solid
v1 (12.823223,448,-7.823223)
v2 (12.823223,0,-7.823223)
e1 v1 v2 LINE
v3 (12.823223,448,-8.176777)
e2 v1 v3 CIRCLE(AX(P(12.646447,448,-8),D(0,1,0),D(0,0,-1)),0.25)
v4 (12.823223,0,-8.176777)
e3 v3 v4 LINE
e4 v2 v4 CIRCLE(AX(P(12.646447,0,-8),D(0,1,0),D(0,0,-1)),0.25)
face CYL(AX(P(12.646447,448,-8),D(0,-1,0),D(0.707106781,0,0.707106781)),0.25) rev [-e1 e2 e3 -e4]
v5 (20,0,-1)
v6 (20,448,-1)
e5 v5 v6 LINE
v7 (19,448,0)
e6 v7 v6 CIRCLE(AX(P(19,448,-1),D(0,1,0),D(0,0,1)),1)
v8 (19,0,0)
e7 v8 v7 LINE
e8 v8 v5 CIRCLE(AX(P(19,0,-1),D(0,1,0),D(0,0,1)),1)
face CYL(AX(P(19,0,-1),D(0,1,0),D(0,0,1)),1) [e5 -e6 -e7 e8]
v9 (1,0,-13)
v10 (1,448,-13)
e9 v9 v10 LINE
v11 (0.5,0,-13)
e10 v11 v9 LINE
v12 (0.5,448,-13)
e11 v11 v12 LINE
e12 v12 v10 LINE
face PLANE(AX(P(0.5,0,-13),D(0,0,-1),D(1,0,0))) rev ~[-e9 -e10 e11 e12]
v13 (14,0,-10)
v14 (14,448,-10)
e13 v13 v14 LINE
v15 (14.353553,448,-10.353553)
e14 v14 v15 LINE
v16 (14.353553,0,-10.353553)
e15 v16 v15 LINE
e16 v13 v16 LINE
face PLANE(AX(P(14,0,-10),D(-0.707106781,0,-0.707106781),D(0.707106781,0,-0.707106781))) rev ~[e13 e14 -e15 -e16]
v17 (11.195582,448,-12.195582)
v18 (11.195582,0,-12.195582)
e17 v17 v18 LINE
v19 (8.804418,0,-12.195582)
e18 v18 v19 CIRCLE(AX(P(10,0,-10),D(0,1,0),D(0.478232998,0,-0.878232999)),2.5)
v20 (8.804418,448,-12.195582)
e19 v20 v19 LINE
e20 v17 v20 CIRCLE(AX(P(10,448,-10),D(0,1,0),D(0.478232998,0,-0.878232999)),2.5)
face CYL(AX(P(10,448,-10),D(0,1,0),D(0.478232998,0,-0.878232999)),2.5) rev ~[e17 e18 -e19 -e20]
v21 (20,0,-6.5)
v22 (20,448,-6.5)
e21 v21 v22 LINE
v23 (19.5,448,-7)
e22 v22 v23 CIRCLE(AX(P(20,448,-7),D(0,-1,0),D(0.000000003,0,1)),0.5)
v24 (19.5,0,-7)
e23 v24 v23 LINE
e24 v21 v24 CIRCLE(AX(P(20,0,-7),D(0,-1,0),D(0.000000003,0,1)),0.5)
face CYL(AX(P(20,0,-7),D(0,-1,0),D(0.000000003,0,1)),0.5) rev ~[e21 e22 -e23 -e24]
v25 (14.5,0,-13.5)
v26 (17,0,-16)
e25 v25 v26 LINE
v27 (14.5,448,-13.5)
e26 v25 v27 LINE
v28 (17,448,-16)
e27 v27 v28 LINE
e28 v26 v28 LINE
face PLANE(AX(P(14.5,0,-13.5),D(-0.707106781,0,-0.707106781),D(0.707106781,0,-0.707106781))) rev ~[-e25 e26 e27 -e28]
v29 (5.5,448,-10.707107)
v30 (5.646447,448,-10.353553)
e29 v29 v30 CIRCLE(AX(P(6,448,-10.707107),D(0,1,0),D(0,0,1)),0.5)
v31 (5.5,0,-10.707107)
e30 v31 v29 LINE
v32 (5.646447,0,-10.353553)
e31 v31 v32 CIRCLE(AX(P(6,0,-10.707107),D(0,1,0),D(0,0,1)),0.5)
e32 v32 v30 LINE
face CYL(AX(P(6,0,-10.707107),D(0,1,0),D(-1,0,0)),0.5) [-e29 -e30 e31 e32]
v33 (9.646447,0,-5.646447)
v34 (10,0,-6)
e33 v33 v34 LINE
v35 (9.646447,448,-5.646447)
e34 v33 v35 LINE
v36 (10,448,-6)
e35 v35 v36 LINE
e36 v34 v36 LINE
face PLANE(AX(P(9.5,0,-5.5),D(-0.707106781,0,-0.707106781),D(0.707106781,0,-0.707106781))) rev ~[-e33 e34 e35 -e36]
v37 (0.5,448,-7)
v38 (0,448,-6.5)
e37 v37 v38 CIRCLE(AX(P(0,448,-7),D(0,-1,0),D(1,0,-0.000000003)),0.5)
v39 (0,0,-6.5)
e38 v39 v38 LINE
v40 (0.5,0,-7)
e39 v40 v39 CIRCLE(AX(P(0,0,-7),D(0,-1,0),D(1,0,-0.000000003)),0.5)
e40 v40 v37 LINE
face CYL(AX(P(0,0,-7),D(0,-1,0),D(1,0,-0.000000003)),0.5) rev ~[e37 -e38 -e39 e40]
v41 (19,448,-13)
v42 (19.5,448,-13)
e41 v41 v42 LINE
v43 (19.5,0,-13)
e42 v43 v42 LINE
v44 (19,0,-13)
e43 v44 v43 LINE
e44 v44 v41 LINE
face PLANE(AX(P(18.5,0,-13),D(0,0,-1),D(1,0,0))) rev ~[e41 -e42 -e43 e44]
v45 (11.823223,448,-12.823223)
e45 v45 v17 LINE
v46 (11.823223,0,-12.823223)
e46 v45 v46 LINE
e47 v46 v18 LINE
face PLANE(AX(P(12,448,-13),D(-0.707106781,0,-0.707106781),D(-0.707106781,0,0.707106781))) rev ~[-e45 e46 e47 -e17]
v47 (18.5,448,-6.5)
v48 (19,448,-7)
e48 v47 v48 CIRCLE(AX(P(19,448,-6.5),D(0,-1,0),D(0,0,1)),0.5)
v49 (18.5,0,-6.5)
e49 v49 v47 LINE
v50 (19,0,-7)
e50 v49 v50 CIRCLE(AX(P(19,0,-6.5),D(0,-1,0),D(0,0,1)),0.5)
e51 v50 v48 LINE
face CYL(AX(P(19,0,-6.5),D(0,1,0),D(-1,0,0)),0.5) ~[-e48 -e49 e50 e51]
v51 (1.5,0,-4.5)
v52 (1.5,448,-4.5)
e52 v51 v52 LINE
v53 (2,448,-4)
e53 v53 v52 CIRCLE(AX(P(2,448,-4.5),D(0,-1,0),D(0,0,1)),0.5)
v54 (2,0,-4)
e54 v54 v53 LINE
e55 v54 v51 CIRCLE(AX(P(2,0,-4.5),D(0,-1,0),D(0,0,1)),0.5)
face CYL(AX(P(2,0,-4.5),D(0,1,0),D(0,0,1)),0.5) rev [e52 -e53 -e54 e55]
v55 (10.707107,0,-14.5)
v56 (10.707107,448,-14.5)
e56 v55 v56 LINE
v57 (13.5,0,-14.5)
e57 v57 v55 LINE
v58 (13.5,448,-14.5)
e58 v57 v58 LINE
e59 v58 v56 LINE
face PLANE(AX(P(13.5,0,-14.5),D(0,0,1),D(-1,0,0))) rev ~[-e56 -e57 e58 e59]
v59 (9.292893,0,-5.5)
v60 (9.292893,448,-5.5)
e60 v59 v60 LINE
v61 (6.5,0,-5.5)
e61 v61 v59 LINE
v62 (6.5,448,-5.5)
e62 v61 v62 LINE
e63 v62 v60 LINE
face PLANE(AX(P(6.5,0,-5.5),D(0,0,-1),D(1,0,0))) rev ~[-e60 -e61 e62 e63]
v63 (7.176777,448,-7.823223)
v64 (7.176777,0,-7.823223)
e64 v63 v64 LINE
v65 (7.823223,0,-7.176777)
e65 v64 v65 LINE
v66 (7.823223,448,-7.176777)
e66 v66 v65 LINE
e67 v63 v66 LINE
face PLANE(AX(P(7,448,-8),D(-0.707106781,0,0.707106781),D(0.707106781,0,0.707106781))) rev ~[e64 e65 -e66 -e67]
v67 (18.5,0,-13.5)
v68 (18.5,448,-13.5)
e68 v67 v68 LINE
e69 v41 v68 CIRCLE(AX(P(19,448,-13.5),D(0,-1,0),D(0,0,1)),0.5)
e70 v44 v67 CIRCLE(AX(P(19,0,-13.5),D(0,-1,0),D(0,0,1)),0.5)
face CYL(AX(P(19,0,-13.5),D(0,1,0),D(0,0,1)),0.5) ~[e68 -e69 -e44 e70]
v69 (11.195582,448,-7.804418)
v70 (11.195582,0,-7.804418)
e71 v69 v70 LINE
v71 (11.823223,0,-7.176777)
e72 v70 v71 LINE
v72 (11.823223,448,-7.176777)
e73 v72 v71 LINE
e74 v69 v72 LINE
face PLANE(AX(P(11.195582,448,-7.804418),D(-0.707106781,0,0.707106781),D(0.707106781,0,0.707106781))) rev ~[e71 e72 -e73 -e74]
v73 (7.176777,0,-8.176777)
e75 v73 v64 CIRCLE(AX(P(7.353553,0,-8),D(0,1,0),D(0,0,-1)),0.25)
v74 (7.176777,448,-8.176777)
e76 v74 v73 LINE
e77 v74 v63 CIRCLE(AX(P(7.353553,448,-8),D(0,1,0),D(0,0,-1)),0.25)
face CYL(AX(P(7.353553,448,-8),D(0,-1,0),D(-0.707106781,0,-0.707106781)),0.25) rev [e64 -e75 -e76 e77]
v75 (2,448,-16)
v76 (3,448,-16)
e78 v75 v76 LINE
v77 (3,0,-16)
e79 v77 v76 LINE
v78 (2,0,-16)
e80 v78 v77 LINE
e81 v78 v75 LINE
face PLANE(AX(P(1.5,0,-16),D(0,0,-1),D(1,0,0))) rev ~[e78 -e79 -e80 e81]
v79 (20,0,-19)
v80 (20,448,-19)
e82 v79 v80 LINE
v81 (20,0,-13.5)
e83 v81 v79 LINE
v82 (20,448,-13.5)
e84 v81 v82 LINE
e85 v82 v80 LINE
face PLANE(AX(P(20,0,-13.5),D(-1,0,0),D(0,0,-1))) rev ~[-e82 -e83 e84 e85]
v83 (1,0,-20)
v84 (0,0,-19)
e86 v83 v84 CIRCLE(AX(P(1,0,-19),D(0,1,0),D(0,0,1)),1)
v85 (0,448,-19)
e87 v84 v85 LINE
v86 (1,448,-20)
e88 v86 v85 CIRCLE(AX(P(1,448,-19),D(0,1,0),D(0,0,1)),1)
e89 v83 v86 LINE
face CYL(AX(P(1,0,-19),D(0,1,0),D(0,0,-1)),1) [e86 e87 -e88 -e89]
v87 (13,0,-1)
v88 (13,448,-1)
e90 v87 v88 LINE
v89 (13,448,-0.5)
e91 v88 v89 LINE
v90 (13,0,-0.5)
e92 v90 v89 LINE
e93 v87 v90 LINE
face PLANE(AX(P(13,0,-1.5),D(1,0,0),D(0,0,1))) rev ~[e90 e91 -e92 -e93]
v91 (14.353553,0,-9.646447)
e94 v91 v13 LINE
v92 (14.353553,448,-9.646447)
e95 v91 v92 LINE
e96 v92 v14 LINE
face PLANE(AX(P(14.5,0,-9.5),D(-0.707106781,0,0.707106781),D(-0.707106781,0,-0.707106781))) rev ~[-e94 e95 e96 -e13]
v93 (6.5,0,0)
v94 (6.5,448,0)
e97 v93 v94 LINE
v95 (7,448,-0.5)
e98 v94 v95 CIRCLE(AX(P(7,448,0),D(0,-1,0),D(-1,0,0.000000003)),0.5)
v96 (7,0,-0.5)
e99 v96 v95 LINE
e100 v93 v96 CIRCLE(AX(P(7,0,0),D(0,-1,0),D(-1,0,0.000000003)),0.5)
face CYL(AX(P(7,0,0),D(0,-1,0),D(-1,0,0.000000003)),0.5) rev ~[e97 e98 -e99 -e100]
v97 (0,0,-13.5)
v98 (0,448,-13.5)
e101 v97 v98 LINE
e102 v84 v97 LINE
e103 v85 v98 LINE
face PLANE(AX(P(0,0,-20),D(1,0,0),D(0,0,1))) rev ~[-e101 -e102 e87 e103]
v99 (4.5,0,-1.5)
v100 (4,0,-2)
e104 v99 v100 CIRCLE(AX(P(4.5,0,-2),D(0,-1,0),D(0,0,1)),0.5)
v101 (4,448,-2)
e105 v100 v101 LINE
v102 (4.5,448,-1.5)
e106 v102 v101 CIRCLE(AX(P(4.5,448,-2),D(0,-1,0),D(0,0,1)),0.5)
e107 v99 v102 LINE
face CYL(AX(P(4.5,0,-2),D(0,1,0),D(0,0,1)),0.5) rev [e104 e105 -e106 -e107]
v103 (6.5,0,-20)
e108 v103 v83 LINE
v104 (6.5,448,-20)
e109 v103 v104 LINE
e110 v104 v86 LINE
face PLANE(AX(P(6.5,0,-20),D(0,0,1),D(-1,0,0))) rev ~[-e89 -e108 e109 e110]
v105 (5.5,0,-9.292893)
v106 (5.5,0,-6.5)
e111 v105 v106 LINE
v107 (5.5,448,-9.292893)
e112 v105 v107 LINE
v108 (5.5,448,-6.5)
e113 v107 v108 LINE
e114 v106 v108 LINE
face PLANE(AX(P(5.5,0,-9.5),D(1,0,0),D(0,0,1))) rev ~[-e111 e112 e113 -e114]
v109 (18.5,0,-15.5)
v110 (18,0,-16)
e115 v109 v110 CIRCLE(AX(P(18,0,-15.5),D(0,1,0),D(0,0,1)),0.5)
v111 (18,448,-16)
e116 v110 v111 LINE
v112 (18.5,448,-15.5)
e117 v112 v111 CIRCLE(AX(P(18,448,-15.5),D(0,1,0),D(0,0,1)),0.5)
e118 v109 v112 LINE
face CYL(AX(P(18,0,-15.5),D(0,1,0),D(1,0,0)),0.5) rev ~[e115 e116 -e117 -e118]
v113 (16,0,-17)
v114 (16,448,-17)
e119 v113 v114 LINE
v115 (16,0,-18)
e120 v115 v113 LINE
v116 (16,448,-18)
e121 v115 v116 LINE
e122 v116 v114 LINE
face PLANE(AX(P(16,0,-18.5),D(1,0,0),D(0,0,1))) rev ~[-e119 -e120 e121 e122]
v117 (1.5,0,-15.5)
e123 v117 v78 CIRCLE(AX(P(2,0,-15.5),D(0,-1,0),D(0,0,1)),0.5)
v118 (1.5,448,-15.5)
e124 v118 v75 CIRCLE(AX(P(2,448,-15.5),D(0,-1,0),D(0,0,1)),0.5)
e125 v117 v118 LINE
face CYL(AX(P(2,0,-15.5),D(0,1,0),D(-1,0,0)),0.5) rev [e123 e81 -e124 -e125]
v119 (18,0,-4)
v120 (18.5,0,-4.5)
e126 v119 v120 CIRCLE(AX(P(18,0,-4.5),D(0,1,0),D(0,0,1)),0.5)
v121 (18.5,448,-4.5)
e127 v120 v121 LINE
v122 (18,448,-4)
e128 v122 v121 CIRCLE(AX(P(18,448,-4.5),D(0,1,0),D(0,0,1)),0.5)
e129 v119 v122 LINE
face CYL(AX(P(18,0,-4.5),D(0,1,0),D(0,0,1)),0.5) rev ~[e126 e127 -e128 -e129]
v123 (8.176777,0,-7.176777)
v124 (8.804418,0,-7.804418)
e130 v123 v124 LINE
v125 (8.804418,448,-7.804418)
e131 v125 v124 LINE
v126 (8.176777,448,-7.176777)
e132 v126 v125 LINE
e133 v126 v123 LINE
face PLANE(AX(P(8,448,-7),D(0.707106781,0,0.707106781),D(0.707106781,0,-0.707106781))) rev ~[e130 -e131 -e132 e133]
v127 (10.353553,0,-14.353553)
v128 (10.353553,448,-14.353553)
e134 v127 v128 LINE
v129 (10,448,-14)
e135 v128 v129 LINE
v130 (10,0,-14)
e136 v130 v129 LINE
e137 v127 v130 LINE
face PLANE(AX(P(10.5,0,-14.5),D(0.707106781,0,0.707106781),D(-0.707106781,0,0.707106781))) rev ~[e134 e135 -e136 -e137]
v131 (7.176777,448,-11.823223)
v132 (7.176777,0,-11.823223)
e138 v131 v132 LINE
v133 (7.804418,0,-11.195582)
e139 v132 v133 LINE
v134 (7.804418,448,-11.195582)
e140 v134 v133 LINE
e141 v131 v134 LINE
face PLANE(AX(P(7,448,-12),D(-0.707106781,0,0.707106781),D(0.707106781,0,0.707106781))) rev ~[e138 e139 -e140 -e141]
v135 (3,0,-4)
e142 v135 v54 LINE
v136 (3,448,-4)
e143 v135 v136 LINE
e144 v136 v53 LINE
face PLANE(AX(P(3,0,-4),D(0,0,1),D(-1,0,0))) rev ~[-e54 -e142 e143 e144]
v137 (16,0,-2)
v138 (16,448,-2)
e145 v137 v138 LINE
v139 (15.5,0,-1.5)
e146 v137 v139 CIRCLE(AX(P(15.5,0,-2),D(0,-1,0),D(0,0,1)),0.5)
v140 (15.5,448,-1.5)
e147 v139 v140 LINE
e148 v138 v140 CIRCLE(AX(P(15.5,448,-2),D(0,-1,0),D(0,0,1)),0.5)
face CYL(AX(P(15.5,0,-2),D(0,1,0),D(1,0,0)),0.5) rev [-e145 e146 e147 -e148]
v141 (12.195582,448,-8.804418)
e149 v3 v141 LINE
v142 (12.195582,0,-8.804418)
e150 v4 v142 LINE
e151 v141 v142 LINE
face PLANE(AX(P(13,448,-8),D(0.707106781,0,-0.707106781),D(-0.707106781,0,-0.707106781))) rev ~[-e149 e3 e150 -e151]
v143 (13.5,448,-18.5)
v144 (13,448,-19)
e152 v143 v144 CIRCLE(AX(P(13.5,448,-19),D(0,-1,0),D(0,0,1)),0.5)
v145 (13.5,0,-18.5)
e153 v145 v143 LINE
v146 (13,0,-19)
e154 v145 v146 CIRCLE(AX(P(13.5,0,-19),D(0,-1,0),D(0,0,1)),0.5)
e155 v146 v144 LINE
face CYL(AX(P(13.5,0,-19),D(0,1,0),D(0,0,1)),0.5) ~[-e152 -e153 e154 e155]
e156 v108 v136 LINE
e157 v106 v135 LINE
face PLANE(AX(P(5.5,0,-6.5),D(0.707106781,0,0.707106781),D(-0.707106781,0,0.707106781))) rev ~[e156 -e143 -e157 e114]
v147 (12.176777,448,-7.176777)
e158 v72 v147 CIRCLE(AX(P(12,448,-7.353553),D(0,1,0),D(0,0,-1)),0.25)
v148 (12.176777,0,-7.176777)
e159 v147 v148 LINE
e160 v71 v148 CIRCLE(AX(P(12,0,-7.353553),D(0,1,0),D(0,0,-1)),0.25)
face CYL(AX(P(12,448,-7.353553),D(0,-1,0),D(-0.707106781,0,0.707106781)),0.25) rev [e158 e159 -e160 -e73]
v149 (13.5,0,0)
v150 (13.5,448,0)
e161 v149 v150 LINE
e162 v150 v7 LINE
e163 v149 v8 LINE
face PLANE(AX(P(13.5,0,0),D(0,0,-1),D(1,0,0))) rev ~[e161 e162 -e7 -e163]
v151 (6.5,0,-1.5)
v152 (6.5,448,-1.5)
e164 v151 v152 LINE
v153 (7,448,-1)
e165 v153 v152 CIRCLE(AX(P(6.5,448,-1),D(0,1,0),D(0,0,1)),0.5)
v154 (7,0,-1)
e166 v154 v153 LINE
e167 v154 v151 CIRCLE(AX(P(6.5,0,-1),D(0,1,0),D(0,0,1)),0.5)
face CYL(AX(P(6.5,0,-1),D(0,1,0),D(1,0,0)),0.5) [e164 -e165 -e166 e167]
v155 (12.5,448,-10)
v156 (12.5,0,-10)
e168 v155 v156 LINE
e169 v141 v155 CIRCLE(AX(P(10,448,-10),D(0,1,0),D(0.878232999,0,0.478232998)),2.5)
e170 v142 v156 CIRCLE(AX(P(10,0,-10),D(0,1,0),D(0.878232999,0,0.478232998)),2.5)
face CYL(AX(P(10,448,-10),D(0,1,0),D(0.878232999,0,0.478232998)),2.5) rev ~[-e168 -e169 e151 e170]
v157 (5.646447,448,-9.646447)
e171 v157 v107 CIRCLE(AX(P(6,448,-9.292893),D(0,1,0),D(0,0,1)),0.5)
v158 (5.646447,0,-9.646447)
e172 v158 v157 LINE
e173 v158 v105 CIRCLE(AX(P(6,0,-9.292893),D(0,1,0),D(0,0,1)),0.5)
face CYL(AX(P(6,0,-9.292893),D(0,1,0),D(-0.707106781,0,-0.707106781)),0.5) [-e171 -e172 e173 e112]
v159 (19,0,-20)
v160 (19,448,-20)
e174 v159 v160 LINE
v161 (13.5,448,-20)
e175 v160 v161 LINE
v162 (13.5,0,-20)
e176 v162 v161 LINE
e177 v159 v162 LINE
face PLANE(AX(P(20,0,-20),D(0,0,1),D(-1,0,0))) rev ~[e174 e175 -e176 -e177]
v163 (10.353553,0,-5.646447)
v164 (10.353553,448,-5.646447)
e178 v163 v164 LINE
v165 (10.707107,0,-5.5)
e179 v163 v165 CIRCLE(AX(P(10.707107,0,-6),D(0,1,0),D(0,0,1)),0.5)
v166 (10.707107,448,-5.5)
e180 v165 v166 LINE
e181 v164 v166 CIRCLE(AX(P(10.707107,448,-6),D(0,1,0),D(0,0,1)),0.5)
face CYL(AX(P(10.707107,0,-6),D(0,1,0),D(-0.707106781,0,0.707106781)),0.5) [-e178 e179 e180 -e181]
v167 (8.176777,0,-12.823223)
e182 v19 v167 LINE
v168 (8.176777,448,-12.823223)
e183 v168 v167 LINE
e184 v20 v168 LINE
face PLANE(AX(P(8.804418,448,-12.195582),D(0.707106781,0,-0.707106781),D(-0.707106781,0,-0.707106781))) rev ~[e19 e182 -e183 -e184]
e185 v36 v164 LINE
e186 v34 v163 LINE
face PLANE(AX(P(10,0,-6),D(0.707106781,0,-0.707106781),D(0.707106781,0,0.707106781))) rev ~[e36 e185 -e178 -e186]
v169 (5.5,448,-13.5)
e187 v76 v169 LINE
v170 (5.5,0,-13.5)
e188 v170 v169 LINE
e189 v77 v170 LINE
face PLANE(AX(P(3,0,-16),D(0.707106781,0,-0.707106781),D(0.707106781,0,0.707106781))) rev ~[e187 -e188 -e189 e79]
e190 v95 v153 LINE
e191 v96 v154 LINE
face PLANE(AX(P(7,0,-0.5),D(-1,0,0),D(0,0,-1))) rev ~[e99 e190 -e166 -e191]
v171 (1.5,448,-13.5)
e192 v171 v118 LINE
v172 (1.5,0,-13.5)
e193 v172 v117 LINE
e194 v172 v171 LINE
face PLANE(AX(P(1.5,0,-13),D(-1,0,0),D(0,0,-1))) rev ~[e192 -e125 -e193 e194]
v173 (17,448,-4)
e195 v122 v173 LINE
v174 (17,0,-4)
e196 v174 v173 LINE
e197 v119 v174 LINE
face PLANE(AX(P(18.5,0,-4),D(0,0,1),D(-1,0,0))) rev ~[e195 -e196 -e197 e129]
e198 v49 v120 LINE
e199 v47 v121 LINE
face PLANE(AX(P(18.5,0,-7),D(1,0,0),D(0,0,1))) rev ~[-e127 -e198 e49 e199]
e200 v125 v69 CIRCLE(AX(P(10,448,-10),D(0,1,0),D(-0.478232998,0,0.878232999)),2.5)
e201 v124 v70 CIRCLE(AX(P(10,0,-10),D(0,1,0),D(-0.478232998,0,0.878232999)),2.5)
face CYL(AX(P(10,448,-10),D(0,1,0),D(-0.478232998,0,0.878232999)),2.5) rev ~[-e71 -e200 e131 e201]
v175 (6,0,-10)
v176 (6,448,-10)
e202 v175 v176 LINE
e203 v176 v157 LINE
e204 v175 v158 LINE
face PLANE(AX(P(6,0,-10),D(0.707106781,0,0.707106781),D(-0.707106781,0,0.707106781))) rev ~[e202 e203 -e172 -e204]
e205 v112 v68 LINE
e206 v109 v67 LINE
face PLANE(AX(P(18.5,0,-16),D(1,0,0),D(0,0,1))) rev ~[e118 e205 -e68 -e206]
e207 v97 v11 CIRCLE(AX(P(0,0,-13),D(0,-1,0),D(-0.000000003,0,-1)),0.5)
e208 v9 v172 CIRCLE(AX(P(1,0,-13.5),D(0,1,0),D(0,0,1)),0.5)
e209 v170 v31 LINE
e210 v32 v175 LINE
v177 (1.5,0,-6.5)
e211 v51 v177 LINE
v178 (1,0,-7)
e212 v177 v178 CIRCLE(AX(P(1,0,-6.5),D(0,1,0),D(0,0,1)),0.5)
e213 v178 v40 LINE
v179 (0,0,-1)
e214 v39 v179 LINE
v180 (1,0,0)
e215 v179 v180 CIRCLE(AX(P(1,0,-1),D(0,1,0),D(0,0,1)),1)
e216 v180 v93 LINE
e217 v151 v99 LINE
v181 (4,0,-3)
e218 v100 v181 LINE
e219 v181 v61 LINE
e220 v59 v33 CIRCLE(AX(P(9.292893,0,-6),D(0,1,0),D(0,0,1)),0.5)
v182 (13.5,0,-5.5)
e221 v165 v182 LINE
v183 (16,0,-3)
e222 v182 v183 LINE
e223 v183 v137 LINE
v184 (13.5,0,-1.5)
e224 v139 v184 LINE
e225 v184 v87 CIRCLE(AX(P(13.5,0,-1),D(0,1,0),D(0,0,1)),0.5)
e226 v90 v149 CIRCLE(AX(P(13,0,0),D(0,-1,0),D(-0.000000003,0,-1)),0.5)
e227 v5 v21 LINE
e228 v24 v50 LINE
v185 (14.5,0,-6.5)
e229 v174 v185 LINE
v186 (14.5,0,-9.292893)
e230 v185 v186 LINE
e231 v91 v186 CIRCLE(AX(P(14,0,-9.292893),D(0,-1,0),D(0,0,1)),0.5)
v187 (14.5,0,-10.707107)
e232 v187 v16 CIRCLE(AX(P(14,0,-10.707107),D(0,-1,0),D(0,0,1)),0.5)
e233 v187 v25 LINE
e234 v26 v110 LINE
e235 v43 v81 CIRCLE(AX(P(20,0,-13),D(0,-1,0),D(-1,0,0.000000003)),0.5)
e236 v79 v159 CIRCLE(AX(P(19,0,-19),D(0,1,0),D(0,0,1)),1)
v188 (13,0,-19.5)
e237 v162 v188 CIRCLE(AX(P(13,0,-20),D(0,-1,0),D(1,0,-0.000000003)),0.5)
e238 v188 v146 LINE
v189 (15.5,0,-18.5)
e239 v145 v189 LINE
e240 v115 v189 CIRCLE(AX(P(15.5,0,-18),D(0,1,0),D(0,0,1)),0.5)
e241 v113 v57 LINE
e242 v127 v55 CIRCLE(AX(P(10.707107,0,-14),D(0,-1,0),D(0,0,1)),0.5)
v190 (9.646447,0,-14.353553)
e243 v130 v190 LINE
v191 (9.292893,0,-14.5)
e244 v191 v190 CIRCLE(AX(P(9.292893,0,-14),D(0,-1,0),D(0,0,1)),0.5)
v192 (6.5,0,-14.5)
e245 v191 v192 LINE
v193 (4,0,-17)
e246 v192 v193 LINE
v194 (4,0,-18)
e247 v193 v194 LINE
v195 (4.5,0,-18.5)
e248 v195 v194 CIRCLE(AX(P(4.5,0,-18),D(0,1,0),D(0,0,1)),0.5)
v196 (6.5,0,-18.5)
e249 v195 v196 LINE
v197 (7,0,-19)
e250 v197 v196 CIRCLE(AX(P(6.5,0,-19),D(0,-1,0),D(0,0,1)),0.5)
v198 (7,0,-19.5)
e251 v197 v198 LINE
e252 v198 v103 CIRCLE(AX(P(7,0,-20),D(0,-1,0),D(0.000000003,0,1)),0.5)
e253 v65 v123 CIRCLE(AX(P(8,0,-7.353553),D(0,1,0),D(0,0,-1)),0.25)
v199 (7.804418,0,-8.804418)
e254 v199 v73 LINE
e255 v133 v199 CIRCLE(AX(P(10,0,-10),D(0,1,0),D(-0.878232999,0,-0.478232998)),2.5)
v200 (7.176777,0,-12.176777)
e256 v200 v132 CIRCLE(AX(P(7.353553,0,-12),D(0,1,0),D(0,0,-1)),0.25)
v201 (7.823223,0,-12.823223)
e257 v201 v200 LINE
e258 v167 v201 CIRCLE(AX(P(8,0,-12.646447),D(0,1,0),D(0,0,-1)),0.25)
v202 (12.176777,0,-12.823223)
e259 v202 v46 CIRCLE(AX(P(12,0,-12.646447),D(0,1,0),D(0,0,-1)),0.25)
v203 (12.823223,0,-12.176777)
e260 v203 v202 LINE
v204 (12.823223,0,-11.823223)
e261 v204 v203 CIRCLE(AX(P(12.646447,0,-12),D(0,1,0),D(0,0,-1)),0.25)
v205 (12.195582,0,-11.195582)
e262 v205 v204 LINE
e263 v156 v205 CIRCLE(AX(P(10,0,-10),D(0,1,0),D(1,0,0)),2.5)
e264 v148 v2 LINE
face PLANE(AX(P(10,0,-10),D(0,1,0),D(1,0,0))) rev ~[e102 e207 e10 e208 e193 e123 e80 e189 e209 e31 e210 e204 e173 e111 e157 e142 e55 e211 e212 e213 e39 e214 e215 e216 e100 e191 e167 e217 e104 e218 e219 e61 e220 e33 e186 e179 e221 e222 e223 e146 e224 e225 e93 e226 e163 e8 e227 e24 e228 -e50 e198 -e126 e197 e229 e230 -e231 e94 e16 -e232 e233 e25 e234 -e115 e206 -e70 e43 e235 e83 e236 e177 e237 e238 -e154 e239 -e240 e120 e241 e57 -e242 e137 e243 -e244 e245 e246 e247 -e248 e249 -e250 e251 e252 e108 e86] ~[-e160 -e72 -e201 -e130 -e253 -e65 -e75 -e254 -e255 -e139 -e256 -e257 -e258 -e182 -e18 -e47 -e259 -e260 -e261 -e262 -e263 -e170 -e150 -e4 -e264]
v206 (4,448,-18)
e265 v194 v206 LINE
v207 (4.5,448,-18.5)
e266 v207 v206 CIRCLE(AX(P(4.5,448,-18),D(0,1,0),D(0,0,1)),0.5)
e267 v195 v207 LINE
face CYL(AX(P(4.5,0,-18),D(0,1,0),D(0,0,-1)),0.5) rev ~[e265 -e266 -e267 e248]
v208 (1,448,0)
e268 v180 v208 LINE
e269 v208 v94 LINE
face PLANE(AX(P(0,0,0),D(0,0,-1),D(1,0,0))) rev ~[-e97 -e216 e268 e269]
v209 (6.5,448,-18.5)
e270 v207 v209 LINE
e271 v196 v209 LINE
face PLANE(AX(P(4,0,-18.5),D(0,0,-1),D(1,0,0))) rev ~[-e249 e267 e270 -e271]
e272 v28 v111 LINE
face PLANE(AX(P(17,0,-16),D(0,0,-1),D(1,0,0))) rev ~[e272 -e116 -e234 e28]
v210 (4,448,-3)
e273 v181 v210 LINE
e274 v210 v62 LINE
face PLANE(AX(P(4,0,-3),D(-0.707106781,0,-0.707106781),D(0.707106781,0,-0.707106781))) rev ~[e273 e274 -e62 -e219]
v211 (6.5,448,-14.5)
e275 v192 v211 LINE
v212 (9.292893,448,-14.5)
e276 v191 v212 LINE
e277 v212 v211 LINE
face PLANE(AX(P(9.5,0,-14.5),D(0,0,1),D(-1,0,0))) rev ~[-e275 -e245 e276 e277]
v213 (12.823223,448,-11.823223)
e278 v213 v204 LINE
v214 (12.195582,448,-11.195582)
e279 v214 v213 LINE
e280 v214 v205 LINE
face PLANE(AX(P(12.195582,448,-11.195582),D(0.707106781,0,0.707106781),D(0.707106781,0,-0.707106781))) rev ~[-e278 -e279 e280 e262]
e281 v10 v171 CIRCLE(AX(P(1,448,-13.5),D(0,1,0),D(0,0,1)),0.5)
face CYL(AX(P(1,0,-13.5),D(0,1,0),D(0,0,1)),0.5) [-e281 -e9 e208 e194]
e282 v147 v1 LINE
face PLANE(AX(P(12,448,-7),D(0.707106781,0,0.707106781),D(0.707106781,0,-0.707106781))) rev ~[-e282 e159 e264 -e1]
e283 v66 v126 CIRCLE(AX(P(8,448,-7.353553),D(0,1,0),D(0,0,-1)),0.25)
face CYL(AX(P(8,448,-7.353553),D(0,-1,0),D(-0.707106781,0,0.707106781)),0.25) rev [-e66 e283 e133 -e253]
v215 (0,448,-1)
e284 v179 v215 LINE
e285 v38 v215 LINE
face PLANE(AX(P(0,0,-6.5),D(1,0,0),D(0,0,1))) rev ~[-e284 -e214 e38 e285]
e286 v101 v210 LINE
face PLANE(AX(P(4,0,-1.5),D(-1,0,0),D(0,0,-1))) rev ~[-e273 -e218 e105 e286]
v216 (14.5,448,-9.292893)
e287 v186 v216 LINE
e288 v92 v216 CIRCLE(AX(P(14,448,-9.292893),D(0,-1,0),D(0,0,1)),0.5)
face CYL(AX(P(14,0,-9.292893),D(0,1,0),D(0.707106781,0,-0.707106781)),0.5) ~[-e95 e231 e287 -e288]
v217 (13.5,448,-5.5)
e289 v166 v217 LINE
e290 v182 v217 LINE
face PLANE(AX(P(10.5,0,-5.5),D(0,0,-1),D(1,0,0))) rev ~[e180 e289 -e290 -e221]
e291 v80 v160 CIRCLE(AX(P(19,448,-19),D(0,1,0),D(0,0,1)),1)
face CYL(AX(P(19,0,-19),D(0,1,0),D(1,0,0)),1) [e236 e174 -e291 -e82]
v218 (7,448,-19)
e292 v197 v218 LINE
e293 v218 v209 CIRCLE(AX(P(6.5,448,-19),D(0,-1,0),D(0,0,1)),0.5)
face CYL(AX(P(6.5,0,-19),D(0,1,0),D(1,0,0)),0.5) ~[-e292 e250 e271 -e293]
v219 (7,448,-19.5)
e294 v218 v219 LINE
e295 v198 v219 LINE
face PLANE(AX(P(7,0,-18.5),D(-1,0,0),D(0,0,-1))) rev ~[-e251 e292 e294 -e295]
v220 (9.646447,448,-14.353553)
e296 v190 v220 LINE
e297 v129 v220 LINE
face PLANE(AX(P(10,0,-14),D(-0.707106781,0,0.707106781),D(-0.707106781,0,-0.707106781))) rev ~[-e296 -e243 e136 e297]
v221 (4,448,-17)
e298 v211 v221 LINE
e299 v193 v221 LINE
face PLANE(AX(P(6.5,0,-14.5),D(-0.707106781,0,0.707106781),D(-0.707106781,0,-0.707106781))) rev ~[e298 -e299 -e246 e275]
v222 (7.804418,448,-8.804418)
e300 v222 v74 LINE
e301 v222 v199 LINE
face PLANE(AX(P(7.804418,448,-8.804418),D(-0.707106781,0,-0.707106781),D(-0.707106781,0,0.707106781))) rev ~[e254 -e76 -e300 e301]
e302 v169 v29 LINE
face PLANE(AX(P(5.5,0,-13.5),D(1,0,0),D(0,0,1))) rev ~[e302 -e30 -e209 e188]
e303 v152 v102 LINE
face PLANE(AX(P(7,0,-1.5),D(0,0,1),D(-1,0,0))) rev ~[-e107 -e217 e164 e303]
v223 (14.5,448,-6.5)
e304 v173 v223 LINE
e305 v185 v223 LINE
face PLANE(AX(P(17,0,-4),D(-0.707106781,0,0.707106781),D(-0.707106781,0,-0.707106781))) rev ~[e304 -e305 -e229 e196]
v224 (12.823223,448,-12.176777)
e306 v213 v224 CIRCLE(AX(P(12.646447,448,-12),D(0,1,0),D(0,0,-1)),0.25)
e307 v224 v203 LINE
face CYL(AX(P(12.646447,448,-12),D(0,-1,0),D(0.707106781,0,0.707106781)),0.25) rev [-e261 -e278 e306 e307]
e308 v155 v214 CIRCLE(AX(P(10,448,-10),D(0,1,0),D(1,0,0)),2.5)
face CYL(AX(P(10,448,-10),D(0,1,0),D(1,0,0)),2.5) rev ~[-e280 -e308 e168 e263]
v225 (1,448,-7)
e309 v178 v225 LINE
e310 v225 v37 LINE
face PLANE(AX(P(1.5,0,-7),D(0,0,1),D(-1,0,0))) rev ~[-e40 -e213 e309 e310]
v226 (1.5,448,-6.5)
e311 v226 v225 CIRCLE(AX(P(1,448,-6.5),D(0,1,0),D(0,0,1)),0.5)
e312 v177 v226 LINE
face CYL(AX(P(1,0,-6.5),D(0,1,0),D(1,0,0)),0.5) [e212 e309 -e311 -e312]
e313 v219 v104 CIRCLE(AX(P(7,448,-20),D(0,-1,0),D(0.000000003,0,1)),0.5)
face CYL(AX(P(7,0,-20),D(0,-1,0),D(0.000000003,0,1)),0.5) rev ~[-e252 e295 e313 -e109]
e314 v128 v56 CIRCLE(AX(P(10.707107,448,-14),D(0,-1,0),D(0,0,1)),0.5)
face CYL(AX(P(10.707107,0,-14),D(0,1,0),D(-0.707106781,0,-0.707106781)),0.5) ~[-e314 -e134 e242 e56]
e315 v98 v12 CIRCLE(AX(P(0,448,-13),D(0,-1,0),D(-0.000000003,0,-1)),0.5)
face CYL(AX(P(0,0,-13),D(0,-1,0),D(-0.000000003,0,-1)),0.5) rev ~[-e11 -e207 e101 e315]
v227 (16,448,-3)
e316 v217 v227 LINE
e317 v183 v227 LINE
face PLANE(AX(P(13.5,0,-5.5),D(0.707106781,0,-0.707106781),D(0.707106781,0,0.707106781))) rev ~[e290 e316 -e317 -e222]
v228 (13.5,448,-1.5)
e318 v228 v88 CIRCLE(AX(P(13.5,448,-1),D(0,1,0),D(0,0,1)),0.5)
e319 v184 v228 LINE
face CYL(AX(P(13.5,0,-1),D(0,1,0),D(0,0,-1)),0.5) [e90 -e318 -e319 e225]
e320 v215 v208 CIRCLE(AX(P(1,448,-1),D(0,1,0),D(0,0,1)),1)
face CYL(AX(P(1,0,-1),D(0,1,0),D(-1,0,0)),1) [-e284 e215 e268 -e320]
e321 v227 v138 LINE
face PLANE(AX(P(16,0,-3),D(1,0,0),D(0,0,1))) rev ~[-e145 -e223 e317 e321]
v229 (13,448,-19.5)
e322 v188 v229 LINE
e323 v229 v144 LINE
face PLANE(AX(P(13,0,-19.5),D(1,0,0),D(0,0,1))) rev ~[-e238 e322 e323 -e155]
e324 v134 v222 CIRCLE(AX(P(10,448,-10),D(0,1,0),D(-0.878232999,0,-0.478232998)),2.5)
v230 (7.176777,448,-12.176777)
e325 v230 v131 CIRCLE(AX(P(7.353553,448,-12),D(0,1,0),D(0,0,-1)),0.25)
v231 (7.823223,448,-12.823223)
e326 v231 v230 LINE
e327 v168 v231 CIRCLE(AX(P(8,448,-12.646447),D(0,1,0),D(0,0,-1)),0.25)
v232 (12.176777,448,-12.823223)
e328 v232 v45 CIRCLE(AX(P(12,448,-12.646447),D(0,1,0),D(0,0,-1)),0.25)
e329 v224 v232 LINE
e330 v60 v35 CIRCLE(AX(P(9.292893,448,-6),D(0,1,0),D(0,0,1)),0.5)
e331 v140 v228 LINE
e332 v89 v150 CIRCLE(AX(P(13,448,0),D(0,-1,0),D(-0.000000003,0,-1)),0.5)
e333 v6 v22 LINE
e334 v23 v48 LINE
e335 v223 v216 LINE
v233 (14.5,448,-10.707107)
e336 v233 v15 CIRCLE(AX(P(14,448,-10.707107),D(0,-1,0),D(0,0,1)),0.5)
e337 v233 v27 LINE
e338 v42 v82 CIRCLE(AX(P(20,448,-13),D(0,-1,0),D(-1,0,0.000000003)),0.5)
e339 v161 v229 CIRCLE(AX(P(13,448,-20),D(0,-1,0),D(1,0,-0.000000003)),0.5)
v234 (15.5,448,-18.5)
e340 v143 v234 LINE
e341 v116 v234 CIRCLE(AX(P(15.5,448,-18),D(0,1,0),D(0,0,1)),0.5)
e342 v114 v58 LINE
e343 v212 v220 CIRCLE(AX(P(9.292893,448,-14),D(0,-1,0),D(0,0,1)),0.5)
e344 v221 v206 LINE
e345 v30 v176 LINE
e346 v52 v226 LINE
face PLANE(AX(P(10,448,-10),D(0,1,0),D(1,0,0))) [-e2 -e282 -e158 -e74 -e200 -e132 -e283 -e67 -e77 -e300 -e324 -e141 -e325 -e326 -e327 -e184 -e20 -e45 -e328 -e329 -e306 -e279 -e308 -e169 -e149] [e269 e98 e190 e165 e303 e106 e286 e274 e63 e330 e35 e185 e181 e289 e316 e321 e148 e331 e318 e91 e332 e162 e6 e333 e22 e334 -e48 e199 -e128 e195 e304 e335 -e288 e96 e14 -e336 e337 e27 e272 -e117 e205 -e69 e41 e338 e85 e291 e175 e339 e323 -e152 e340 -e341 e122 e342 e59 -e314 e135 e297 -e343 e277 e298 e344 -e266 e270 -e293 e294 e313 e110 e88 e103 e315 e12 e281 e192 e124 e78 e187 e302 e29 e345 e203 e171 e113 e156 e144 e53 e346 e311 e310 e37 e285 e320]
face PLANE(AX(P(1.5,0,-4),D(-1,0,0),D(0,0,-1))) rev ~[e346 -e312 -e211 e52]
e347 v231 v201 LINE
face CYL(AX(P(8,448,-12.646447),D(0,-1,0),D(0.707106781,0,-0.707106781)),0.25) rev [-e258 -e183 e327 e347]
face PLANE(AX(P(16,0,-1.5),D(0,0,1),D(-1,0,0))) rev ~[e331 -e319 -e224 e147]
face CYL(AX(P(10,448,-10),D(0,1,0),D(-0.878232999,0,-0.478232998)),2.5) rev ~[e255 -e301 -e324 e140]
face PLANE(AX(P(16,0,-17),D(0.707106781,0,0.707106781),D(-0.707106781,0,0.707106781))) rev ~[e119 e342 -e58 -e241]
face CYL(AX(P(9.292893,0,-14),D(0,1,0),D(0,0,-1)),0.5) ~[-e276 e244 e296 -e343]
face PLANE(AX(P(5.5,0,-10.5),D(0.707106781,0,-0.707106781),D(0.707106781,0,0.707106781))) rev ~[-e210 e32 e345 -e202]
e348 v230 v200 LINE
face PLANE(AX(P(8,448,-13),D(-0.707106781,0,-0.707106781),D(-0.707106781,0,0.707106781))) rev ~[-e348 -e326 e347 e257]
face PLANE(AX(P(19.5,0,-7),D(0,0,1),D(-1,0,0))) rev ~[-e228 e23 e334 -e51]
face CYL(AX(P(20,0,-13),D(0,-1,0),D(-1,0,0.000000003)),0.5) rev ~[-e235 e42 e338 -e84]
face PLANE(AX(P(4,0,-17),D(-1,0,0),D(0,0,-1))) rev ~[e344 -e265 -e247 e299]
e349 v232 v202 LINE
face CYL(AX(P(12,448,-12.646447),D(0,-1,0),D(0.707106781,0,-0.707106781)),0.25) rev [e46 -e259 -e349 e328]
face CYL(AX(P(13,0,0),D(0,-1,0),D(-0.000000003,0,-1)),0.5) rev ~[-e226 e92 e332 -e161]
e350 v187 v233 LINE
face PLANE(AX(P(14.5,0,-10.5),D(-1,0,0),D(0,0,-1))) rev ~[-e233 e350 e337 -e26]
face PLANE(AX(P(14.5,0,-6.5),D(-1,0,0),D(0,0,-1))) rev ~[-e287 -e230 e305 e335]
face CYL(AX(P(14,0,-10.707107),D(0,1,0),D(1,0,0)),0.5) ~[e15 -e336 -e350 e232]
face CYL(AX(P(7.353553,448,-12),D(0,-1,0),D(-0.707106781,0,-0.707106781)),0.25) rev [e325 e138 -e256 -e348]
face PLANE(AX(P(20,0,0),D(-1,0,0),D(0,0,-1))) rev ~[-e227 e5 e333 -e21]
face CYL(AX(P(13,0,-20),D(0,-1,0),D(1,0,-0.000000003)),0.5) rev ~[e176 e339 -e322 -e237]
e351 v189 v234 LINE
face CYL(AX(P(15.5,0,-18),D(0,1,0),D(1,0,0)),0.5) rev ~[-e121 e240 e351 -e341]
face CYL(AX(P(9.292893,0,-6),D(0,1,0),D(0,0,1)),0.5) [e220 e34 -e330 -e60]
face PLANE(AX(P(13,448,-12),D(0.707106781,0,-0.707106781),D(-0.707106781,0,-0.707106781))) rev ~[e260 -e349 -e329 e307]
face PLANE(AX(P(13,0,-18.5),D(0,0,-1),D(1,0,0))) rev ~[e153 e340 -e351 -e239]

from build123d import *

# Parameters (mm, degrees)
BOSS_EXTRUDE1_DEPTH = 448
FILLET1_R           = 1
CUT_EXTRUDE1_DEPTH  = 449
FILLET2_R           = 0.5
FILLET3_R           = 0.25


with BuildPart() as part:
    # Sketch3 → Boss-Extrude1 (new body)
    with BuildSketch(Plane(origin=(0, 0, 0), x_dir=(1, 0, 0), z_dir=(0, 1, 0))):
        with BuildLine():
            Line((7, 18.5), (7, 19.5))
            ThreePointArc((7, 19.5), (6.646446609, 19.646446609), (6.5, 20))
            Line((6.5, 20), (0, 20))
            Line((0, 20), (0, 13.5))
            ThreePointArc((0, 13.5), (0.353553391, 13.353553391), (0.5, 13))
            Line((0.5, 13), (1.5, 13))
            Line((1.5, 13), (1.5, 16))
            Line((1.5, 16), (3, 16))
            Line((3, 16), (5.5, 13.5))
            Line((5.5, 13.5), (5.5, 10.5))
            Line((5.5, 10.5), (6, 10))
            Line((6, 10), (5.5, 9.5))
            Line((5.5, 9.5), (5.5, 6.5))
            Line((5.5, 6.5), (3, 4))
            Line((3, 4), (1.5, 4))
            Line((1.5, 4), (1.5, 7))
            Line((1.5, 7), (0.5, 7))
            ThreePointArc((0.5, 7), (0.353553391, 6.646446609), (0, 6.5))
            Line((0, 6.5), (0, 0))
            Line((0, 0), (6.5, 0))
            ThreePointArc((6.5, 0), (6.646446609, 0.353553391), (7, 0.5))
            Line((7, 0.5), (7, 1.5))
            Line((7, 1.5), (4, 1.5))
            Line((4, 1.5), (4, 3))
            Line((4, 3), (6.5, 5.5))
            Line((6.5, 5.5), (9.5, 5.5))
            Line((9.5, 5.5), (10, 6))
            Line((10, 6), (10.5, 5.5))
            Line((10.5, 5.5), (13.5, 5.5))
            Line((13.5, 5.5), (16, 3))
            Line((16, 3), (16, 1.5))
            Line((16, 1.5), (13, 1.5))
            Line((13, 1.5), (13, 0.5))
            ThreePointArc((13, 0.5), (13.353553391, 0.353553391), (13.5, 0))
            Line((13.5, 0), (20, 0))
            Line((20, 0), (20, 6.5))
            ThreePointArc((20, 6.5), (19.646446609, 6.646446609), (19.5, 7))
            Line((19.5, 7), (18.5, 7))
            Line((18.5, 7), (18.5, 4))
            Line((18.5, 4), (17, 4))
            Line((17, 4), (14.5, 6.5))
            Line((14.5, 6.5), (14.5, 9.5))
            Line((14.5, 9.5), (14, 10))
            Line((14, 10), (14.5, 10.5))
            Line((14.5, 10.5), (14.5, 13.5))
            Line((14.5, 13.5), (17, 16))
            Line((17, 16), (18.5, 16))
            Line((18.5, 16), (18.5, 13))
            Line((18.5, 13), (19.5, 13))
            ThreePointArc((19.5, 13), (19.646446609, 13.353553391), (20, 13.5))
            Line((20, 13.5), (20, 20))
            Line((20, 20), (13.5, 20))
            ThreePointArc((13.5, 20), (13.353553391, 19.646446609), (13, 19.5))
            Line((13, 19.5), (13, 18.5))
            Line((13, 18.5), (16, 18.5))
            Line((16, 18.5), (16, 17))
            Line((16, 17), (13.5, 14.5))
            Line((13.5, 14.5), (10.5, 14.5))
            Line((10.5, 14.5), (10, 14))
            Line((10, 14), (9.5, 14.5))
            Line((9.5, 14.5), (6.5, 14.5))
            Line((6.5, 14.5), (4, 17))
            Line((4, 17), (4, 18.5))
            Line((4, 18.5), (7, 18.5))
        make_face()
    extrude(amount=BOSS_EXTRUDE1_DEPTH)

    # Fillet1
    fillet1_edges = [part.edges().sort_by_distance(p)[0] for p in [
        (20, 224, 0),
        (0, 224, 0),
        (0, 224, -20),
        (20, 224, -20),
    ]]
    fillet(fillet1_edges, radius=FILLET1_R)

    # Sketch4 → Cut-Extrude1 (cut, through all)
    with BuildSketch(Plane(origin=(0, 448, 0), x_dir=(1, 0, 0), z_dir=(0, 1, 0))):
        with BuildLine():
            Line((10, 11), (11.195582496, 12.195582496))
            ThreePointArc((11.195582496, 12.195582496), (10, 12.5), (8.804417504, 12.195582496))
            Line((8.804417504, 12.195582496), (10, 11))
        make_face()
        with BuildLine():
            ThreePointArc((12.195582496, 11.195582496), (11.767766953, 11.767766953), (11.195582496, 12.195582496))
            Line((11.195582496, 12.195582496), (10, 11))
            Line((10, 11), (11, 10))
            Line((11, 10), (12.195582496, 11.195582496))
        make_face()
        with BuildLine():
            Line((9, 10), (10, 11))
            Line((10, 11), (8.804417504, 12.195582496))
            ThreePointArc((8.804417504, 12.195582496), (8.232233047, 11.767766953), (7.804417504, 11.195582496))
            Line((7.804417504, 11.195582496), (9, 10))
        make_face()
        Polygon((11, 10), (10, 11), (9, 10), (10, 9), align=None)
        with BuildLine():
            Line((7.804417504, 8.804417504), (9, 10))
            Line((9, 10), (7.804417504, 11.195582496))
            ThreePointArc((7.804417504, 11.195582496), (7.5, 10), (7.804417504, 8.804417504))
        make_face()
        with BuildLine():
            Line((10, 9), (9, 10))
            Line((9, 10), (7.804417504, 8.804417504))
            ThreePointArc((7.804417504, 8.804417504), (8.232233047, 8.232233047), (8.804417504, 7.804417504))
            Line((8.804417504, 7.804417504), (10, 9))
        make_face()
        with BuildLine():
            Line((11.195582496, 7.804417504), (10, 9))
            Line((10, 9), (8.804417504, 7.804417504))
            ThreePointArc((8.804417504, 7.804417504), (10, 7.5), (11.195582496, 7.804417504))
        make_face()
        with BuildLine():
            Line((12.195582496, 8.804417504), (11, 10))
            Line((11, 10), (10, 9))
            Line((10, 9), (11.195582496, 7.804417504))
            ThreePointArc((11.195582496, 7.804417504), (11.767766953, 8.232233047), (12.195582496, 8.804417504))
        make_face()
        with BuildLine():
            ThreePointArc((12.5, 10), (12.422700584, 10.616864556), (12.195582496, 11.195582496))
            Line((12.195582496, 11.195582496), (11, 10))
            Line((11, 10), (12.195582496, 8.804417504))
            ThreePointArc((12.195582496, 8.804417504), (12.422700584, 9.383135444), (12.5, 10))
        make_face()
        with BuildLine():
            ThreePointArc((8.804417504, 7.804417504), (8.232233047, 8.232233047), (7.804417504, 8.804417504))
            Line((7.804417504, 8.804417504), (7, 8))
            Line((7, 8), (8, 7))
            Line((8, 7), (8.804417504, 7.804417504))
        make_face()
        with BuildLine():
            Line((13, 8), (12.195582496, 8.804417504))
            ThreePointArc((12.195582496, 8.804417504), (11.767766953, 8.232233047), (11.195582496, 7.804417504))
            Line((11.195582496, 7.804417504), (12, 7))
            Line((12, 7), (13, 8))
        make_face()
        with BuildLine():
            Line((13, 12), (12, 13))
            Line((12, 13), (11.195582496, 12.195582496))
            ThreePointArc((11.195582496, 12.195582496), (11.767766953, 11.767766953), (12.195582496, 11.195582496))
            Line((12.195582496, 11.195582496), (13, 12))
        make_face()
        with BuildLine():
            ThreePointArc((7.804417504, 11.195582496), (8.232233047, 11.767766953), (8.804417504, 12.195582496))
            Line((8.804417504, 12.195582496), (8, 13))
            Line((8, 13), (7, 12))
            Line((7, 12), (7.804417504, 11.195582496))
        make_face()
    extrude(amount=-CUT_EXTRUDE1_DEPTH, mode=Mode.SUBTRACT)

    # Fillet2
    fillet2_edges = [part.edges().sort_by_distance(p)[0] for p in [
        (18.5, 224, -13),
        (18.5, 224, -16),
        (14.5, 224, -10.5),
        (14.5, 224, -9.5),
        (18.5, 224, -4),
        (18.5, 224, -7),
        (13, 224, -1.5),
        (16, 224, -1.5),
        (10.5, 224, -5.5),
        (9.5, 224, -5.5),
        (4, 224, -1.5),
        (7, 224, -1.5),
        (1.5, 224, -7),
        (1.5, 224, -4),
        (5.5, 224, -9.5),
        (5.5, 224, -10.5),
        (1.5, 224, -16),
        (1.5, 224, -13),
        (7, 224, -18.5),
        (4, 224, -18.5),
        (9.5, 224, -14.5),
        (10.5, 224, -14.5),
        (16, 224, -18.5),
        (13, 224, -18.5),
    ]]
    fillet(fillet2_edges, radius=FILLET2_R)

    # Fillet3
    fillet3_edges = [part.edges().sort_by_distance(p)[0] for p in [
        (7, 224, -12),
        (8, 224, -13),
        (12, 224, -13),
        (13, 224, -12),
        (13, 224, -8),
        (12, 224, -7),
        (8, 224, -7),
        (7, 224, -8),
    ]]
    fillet(fillet3_edges, radius=FILLET3_R)


solid = part.part
